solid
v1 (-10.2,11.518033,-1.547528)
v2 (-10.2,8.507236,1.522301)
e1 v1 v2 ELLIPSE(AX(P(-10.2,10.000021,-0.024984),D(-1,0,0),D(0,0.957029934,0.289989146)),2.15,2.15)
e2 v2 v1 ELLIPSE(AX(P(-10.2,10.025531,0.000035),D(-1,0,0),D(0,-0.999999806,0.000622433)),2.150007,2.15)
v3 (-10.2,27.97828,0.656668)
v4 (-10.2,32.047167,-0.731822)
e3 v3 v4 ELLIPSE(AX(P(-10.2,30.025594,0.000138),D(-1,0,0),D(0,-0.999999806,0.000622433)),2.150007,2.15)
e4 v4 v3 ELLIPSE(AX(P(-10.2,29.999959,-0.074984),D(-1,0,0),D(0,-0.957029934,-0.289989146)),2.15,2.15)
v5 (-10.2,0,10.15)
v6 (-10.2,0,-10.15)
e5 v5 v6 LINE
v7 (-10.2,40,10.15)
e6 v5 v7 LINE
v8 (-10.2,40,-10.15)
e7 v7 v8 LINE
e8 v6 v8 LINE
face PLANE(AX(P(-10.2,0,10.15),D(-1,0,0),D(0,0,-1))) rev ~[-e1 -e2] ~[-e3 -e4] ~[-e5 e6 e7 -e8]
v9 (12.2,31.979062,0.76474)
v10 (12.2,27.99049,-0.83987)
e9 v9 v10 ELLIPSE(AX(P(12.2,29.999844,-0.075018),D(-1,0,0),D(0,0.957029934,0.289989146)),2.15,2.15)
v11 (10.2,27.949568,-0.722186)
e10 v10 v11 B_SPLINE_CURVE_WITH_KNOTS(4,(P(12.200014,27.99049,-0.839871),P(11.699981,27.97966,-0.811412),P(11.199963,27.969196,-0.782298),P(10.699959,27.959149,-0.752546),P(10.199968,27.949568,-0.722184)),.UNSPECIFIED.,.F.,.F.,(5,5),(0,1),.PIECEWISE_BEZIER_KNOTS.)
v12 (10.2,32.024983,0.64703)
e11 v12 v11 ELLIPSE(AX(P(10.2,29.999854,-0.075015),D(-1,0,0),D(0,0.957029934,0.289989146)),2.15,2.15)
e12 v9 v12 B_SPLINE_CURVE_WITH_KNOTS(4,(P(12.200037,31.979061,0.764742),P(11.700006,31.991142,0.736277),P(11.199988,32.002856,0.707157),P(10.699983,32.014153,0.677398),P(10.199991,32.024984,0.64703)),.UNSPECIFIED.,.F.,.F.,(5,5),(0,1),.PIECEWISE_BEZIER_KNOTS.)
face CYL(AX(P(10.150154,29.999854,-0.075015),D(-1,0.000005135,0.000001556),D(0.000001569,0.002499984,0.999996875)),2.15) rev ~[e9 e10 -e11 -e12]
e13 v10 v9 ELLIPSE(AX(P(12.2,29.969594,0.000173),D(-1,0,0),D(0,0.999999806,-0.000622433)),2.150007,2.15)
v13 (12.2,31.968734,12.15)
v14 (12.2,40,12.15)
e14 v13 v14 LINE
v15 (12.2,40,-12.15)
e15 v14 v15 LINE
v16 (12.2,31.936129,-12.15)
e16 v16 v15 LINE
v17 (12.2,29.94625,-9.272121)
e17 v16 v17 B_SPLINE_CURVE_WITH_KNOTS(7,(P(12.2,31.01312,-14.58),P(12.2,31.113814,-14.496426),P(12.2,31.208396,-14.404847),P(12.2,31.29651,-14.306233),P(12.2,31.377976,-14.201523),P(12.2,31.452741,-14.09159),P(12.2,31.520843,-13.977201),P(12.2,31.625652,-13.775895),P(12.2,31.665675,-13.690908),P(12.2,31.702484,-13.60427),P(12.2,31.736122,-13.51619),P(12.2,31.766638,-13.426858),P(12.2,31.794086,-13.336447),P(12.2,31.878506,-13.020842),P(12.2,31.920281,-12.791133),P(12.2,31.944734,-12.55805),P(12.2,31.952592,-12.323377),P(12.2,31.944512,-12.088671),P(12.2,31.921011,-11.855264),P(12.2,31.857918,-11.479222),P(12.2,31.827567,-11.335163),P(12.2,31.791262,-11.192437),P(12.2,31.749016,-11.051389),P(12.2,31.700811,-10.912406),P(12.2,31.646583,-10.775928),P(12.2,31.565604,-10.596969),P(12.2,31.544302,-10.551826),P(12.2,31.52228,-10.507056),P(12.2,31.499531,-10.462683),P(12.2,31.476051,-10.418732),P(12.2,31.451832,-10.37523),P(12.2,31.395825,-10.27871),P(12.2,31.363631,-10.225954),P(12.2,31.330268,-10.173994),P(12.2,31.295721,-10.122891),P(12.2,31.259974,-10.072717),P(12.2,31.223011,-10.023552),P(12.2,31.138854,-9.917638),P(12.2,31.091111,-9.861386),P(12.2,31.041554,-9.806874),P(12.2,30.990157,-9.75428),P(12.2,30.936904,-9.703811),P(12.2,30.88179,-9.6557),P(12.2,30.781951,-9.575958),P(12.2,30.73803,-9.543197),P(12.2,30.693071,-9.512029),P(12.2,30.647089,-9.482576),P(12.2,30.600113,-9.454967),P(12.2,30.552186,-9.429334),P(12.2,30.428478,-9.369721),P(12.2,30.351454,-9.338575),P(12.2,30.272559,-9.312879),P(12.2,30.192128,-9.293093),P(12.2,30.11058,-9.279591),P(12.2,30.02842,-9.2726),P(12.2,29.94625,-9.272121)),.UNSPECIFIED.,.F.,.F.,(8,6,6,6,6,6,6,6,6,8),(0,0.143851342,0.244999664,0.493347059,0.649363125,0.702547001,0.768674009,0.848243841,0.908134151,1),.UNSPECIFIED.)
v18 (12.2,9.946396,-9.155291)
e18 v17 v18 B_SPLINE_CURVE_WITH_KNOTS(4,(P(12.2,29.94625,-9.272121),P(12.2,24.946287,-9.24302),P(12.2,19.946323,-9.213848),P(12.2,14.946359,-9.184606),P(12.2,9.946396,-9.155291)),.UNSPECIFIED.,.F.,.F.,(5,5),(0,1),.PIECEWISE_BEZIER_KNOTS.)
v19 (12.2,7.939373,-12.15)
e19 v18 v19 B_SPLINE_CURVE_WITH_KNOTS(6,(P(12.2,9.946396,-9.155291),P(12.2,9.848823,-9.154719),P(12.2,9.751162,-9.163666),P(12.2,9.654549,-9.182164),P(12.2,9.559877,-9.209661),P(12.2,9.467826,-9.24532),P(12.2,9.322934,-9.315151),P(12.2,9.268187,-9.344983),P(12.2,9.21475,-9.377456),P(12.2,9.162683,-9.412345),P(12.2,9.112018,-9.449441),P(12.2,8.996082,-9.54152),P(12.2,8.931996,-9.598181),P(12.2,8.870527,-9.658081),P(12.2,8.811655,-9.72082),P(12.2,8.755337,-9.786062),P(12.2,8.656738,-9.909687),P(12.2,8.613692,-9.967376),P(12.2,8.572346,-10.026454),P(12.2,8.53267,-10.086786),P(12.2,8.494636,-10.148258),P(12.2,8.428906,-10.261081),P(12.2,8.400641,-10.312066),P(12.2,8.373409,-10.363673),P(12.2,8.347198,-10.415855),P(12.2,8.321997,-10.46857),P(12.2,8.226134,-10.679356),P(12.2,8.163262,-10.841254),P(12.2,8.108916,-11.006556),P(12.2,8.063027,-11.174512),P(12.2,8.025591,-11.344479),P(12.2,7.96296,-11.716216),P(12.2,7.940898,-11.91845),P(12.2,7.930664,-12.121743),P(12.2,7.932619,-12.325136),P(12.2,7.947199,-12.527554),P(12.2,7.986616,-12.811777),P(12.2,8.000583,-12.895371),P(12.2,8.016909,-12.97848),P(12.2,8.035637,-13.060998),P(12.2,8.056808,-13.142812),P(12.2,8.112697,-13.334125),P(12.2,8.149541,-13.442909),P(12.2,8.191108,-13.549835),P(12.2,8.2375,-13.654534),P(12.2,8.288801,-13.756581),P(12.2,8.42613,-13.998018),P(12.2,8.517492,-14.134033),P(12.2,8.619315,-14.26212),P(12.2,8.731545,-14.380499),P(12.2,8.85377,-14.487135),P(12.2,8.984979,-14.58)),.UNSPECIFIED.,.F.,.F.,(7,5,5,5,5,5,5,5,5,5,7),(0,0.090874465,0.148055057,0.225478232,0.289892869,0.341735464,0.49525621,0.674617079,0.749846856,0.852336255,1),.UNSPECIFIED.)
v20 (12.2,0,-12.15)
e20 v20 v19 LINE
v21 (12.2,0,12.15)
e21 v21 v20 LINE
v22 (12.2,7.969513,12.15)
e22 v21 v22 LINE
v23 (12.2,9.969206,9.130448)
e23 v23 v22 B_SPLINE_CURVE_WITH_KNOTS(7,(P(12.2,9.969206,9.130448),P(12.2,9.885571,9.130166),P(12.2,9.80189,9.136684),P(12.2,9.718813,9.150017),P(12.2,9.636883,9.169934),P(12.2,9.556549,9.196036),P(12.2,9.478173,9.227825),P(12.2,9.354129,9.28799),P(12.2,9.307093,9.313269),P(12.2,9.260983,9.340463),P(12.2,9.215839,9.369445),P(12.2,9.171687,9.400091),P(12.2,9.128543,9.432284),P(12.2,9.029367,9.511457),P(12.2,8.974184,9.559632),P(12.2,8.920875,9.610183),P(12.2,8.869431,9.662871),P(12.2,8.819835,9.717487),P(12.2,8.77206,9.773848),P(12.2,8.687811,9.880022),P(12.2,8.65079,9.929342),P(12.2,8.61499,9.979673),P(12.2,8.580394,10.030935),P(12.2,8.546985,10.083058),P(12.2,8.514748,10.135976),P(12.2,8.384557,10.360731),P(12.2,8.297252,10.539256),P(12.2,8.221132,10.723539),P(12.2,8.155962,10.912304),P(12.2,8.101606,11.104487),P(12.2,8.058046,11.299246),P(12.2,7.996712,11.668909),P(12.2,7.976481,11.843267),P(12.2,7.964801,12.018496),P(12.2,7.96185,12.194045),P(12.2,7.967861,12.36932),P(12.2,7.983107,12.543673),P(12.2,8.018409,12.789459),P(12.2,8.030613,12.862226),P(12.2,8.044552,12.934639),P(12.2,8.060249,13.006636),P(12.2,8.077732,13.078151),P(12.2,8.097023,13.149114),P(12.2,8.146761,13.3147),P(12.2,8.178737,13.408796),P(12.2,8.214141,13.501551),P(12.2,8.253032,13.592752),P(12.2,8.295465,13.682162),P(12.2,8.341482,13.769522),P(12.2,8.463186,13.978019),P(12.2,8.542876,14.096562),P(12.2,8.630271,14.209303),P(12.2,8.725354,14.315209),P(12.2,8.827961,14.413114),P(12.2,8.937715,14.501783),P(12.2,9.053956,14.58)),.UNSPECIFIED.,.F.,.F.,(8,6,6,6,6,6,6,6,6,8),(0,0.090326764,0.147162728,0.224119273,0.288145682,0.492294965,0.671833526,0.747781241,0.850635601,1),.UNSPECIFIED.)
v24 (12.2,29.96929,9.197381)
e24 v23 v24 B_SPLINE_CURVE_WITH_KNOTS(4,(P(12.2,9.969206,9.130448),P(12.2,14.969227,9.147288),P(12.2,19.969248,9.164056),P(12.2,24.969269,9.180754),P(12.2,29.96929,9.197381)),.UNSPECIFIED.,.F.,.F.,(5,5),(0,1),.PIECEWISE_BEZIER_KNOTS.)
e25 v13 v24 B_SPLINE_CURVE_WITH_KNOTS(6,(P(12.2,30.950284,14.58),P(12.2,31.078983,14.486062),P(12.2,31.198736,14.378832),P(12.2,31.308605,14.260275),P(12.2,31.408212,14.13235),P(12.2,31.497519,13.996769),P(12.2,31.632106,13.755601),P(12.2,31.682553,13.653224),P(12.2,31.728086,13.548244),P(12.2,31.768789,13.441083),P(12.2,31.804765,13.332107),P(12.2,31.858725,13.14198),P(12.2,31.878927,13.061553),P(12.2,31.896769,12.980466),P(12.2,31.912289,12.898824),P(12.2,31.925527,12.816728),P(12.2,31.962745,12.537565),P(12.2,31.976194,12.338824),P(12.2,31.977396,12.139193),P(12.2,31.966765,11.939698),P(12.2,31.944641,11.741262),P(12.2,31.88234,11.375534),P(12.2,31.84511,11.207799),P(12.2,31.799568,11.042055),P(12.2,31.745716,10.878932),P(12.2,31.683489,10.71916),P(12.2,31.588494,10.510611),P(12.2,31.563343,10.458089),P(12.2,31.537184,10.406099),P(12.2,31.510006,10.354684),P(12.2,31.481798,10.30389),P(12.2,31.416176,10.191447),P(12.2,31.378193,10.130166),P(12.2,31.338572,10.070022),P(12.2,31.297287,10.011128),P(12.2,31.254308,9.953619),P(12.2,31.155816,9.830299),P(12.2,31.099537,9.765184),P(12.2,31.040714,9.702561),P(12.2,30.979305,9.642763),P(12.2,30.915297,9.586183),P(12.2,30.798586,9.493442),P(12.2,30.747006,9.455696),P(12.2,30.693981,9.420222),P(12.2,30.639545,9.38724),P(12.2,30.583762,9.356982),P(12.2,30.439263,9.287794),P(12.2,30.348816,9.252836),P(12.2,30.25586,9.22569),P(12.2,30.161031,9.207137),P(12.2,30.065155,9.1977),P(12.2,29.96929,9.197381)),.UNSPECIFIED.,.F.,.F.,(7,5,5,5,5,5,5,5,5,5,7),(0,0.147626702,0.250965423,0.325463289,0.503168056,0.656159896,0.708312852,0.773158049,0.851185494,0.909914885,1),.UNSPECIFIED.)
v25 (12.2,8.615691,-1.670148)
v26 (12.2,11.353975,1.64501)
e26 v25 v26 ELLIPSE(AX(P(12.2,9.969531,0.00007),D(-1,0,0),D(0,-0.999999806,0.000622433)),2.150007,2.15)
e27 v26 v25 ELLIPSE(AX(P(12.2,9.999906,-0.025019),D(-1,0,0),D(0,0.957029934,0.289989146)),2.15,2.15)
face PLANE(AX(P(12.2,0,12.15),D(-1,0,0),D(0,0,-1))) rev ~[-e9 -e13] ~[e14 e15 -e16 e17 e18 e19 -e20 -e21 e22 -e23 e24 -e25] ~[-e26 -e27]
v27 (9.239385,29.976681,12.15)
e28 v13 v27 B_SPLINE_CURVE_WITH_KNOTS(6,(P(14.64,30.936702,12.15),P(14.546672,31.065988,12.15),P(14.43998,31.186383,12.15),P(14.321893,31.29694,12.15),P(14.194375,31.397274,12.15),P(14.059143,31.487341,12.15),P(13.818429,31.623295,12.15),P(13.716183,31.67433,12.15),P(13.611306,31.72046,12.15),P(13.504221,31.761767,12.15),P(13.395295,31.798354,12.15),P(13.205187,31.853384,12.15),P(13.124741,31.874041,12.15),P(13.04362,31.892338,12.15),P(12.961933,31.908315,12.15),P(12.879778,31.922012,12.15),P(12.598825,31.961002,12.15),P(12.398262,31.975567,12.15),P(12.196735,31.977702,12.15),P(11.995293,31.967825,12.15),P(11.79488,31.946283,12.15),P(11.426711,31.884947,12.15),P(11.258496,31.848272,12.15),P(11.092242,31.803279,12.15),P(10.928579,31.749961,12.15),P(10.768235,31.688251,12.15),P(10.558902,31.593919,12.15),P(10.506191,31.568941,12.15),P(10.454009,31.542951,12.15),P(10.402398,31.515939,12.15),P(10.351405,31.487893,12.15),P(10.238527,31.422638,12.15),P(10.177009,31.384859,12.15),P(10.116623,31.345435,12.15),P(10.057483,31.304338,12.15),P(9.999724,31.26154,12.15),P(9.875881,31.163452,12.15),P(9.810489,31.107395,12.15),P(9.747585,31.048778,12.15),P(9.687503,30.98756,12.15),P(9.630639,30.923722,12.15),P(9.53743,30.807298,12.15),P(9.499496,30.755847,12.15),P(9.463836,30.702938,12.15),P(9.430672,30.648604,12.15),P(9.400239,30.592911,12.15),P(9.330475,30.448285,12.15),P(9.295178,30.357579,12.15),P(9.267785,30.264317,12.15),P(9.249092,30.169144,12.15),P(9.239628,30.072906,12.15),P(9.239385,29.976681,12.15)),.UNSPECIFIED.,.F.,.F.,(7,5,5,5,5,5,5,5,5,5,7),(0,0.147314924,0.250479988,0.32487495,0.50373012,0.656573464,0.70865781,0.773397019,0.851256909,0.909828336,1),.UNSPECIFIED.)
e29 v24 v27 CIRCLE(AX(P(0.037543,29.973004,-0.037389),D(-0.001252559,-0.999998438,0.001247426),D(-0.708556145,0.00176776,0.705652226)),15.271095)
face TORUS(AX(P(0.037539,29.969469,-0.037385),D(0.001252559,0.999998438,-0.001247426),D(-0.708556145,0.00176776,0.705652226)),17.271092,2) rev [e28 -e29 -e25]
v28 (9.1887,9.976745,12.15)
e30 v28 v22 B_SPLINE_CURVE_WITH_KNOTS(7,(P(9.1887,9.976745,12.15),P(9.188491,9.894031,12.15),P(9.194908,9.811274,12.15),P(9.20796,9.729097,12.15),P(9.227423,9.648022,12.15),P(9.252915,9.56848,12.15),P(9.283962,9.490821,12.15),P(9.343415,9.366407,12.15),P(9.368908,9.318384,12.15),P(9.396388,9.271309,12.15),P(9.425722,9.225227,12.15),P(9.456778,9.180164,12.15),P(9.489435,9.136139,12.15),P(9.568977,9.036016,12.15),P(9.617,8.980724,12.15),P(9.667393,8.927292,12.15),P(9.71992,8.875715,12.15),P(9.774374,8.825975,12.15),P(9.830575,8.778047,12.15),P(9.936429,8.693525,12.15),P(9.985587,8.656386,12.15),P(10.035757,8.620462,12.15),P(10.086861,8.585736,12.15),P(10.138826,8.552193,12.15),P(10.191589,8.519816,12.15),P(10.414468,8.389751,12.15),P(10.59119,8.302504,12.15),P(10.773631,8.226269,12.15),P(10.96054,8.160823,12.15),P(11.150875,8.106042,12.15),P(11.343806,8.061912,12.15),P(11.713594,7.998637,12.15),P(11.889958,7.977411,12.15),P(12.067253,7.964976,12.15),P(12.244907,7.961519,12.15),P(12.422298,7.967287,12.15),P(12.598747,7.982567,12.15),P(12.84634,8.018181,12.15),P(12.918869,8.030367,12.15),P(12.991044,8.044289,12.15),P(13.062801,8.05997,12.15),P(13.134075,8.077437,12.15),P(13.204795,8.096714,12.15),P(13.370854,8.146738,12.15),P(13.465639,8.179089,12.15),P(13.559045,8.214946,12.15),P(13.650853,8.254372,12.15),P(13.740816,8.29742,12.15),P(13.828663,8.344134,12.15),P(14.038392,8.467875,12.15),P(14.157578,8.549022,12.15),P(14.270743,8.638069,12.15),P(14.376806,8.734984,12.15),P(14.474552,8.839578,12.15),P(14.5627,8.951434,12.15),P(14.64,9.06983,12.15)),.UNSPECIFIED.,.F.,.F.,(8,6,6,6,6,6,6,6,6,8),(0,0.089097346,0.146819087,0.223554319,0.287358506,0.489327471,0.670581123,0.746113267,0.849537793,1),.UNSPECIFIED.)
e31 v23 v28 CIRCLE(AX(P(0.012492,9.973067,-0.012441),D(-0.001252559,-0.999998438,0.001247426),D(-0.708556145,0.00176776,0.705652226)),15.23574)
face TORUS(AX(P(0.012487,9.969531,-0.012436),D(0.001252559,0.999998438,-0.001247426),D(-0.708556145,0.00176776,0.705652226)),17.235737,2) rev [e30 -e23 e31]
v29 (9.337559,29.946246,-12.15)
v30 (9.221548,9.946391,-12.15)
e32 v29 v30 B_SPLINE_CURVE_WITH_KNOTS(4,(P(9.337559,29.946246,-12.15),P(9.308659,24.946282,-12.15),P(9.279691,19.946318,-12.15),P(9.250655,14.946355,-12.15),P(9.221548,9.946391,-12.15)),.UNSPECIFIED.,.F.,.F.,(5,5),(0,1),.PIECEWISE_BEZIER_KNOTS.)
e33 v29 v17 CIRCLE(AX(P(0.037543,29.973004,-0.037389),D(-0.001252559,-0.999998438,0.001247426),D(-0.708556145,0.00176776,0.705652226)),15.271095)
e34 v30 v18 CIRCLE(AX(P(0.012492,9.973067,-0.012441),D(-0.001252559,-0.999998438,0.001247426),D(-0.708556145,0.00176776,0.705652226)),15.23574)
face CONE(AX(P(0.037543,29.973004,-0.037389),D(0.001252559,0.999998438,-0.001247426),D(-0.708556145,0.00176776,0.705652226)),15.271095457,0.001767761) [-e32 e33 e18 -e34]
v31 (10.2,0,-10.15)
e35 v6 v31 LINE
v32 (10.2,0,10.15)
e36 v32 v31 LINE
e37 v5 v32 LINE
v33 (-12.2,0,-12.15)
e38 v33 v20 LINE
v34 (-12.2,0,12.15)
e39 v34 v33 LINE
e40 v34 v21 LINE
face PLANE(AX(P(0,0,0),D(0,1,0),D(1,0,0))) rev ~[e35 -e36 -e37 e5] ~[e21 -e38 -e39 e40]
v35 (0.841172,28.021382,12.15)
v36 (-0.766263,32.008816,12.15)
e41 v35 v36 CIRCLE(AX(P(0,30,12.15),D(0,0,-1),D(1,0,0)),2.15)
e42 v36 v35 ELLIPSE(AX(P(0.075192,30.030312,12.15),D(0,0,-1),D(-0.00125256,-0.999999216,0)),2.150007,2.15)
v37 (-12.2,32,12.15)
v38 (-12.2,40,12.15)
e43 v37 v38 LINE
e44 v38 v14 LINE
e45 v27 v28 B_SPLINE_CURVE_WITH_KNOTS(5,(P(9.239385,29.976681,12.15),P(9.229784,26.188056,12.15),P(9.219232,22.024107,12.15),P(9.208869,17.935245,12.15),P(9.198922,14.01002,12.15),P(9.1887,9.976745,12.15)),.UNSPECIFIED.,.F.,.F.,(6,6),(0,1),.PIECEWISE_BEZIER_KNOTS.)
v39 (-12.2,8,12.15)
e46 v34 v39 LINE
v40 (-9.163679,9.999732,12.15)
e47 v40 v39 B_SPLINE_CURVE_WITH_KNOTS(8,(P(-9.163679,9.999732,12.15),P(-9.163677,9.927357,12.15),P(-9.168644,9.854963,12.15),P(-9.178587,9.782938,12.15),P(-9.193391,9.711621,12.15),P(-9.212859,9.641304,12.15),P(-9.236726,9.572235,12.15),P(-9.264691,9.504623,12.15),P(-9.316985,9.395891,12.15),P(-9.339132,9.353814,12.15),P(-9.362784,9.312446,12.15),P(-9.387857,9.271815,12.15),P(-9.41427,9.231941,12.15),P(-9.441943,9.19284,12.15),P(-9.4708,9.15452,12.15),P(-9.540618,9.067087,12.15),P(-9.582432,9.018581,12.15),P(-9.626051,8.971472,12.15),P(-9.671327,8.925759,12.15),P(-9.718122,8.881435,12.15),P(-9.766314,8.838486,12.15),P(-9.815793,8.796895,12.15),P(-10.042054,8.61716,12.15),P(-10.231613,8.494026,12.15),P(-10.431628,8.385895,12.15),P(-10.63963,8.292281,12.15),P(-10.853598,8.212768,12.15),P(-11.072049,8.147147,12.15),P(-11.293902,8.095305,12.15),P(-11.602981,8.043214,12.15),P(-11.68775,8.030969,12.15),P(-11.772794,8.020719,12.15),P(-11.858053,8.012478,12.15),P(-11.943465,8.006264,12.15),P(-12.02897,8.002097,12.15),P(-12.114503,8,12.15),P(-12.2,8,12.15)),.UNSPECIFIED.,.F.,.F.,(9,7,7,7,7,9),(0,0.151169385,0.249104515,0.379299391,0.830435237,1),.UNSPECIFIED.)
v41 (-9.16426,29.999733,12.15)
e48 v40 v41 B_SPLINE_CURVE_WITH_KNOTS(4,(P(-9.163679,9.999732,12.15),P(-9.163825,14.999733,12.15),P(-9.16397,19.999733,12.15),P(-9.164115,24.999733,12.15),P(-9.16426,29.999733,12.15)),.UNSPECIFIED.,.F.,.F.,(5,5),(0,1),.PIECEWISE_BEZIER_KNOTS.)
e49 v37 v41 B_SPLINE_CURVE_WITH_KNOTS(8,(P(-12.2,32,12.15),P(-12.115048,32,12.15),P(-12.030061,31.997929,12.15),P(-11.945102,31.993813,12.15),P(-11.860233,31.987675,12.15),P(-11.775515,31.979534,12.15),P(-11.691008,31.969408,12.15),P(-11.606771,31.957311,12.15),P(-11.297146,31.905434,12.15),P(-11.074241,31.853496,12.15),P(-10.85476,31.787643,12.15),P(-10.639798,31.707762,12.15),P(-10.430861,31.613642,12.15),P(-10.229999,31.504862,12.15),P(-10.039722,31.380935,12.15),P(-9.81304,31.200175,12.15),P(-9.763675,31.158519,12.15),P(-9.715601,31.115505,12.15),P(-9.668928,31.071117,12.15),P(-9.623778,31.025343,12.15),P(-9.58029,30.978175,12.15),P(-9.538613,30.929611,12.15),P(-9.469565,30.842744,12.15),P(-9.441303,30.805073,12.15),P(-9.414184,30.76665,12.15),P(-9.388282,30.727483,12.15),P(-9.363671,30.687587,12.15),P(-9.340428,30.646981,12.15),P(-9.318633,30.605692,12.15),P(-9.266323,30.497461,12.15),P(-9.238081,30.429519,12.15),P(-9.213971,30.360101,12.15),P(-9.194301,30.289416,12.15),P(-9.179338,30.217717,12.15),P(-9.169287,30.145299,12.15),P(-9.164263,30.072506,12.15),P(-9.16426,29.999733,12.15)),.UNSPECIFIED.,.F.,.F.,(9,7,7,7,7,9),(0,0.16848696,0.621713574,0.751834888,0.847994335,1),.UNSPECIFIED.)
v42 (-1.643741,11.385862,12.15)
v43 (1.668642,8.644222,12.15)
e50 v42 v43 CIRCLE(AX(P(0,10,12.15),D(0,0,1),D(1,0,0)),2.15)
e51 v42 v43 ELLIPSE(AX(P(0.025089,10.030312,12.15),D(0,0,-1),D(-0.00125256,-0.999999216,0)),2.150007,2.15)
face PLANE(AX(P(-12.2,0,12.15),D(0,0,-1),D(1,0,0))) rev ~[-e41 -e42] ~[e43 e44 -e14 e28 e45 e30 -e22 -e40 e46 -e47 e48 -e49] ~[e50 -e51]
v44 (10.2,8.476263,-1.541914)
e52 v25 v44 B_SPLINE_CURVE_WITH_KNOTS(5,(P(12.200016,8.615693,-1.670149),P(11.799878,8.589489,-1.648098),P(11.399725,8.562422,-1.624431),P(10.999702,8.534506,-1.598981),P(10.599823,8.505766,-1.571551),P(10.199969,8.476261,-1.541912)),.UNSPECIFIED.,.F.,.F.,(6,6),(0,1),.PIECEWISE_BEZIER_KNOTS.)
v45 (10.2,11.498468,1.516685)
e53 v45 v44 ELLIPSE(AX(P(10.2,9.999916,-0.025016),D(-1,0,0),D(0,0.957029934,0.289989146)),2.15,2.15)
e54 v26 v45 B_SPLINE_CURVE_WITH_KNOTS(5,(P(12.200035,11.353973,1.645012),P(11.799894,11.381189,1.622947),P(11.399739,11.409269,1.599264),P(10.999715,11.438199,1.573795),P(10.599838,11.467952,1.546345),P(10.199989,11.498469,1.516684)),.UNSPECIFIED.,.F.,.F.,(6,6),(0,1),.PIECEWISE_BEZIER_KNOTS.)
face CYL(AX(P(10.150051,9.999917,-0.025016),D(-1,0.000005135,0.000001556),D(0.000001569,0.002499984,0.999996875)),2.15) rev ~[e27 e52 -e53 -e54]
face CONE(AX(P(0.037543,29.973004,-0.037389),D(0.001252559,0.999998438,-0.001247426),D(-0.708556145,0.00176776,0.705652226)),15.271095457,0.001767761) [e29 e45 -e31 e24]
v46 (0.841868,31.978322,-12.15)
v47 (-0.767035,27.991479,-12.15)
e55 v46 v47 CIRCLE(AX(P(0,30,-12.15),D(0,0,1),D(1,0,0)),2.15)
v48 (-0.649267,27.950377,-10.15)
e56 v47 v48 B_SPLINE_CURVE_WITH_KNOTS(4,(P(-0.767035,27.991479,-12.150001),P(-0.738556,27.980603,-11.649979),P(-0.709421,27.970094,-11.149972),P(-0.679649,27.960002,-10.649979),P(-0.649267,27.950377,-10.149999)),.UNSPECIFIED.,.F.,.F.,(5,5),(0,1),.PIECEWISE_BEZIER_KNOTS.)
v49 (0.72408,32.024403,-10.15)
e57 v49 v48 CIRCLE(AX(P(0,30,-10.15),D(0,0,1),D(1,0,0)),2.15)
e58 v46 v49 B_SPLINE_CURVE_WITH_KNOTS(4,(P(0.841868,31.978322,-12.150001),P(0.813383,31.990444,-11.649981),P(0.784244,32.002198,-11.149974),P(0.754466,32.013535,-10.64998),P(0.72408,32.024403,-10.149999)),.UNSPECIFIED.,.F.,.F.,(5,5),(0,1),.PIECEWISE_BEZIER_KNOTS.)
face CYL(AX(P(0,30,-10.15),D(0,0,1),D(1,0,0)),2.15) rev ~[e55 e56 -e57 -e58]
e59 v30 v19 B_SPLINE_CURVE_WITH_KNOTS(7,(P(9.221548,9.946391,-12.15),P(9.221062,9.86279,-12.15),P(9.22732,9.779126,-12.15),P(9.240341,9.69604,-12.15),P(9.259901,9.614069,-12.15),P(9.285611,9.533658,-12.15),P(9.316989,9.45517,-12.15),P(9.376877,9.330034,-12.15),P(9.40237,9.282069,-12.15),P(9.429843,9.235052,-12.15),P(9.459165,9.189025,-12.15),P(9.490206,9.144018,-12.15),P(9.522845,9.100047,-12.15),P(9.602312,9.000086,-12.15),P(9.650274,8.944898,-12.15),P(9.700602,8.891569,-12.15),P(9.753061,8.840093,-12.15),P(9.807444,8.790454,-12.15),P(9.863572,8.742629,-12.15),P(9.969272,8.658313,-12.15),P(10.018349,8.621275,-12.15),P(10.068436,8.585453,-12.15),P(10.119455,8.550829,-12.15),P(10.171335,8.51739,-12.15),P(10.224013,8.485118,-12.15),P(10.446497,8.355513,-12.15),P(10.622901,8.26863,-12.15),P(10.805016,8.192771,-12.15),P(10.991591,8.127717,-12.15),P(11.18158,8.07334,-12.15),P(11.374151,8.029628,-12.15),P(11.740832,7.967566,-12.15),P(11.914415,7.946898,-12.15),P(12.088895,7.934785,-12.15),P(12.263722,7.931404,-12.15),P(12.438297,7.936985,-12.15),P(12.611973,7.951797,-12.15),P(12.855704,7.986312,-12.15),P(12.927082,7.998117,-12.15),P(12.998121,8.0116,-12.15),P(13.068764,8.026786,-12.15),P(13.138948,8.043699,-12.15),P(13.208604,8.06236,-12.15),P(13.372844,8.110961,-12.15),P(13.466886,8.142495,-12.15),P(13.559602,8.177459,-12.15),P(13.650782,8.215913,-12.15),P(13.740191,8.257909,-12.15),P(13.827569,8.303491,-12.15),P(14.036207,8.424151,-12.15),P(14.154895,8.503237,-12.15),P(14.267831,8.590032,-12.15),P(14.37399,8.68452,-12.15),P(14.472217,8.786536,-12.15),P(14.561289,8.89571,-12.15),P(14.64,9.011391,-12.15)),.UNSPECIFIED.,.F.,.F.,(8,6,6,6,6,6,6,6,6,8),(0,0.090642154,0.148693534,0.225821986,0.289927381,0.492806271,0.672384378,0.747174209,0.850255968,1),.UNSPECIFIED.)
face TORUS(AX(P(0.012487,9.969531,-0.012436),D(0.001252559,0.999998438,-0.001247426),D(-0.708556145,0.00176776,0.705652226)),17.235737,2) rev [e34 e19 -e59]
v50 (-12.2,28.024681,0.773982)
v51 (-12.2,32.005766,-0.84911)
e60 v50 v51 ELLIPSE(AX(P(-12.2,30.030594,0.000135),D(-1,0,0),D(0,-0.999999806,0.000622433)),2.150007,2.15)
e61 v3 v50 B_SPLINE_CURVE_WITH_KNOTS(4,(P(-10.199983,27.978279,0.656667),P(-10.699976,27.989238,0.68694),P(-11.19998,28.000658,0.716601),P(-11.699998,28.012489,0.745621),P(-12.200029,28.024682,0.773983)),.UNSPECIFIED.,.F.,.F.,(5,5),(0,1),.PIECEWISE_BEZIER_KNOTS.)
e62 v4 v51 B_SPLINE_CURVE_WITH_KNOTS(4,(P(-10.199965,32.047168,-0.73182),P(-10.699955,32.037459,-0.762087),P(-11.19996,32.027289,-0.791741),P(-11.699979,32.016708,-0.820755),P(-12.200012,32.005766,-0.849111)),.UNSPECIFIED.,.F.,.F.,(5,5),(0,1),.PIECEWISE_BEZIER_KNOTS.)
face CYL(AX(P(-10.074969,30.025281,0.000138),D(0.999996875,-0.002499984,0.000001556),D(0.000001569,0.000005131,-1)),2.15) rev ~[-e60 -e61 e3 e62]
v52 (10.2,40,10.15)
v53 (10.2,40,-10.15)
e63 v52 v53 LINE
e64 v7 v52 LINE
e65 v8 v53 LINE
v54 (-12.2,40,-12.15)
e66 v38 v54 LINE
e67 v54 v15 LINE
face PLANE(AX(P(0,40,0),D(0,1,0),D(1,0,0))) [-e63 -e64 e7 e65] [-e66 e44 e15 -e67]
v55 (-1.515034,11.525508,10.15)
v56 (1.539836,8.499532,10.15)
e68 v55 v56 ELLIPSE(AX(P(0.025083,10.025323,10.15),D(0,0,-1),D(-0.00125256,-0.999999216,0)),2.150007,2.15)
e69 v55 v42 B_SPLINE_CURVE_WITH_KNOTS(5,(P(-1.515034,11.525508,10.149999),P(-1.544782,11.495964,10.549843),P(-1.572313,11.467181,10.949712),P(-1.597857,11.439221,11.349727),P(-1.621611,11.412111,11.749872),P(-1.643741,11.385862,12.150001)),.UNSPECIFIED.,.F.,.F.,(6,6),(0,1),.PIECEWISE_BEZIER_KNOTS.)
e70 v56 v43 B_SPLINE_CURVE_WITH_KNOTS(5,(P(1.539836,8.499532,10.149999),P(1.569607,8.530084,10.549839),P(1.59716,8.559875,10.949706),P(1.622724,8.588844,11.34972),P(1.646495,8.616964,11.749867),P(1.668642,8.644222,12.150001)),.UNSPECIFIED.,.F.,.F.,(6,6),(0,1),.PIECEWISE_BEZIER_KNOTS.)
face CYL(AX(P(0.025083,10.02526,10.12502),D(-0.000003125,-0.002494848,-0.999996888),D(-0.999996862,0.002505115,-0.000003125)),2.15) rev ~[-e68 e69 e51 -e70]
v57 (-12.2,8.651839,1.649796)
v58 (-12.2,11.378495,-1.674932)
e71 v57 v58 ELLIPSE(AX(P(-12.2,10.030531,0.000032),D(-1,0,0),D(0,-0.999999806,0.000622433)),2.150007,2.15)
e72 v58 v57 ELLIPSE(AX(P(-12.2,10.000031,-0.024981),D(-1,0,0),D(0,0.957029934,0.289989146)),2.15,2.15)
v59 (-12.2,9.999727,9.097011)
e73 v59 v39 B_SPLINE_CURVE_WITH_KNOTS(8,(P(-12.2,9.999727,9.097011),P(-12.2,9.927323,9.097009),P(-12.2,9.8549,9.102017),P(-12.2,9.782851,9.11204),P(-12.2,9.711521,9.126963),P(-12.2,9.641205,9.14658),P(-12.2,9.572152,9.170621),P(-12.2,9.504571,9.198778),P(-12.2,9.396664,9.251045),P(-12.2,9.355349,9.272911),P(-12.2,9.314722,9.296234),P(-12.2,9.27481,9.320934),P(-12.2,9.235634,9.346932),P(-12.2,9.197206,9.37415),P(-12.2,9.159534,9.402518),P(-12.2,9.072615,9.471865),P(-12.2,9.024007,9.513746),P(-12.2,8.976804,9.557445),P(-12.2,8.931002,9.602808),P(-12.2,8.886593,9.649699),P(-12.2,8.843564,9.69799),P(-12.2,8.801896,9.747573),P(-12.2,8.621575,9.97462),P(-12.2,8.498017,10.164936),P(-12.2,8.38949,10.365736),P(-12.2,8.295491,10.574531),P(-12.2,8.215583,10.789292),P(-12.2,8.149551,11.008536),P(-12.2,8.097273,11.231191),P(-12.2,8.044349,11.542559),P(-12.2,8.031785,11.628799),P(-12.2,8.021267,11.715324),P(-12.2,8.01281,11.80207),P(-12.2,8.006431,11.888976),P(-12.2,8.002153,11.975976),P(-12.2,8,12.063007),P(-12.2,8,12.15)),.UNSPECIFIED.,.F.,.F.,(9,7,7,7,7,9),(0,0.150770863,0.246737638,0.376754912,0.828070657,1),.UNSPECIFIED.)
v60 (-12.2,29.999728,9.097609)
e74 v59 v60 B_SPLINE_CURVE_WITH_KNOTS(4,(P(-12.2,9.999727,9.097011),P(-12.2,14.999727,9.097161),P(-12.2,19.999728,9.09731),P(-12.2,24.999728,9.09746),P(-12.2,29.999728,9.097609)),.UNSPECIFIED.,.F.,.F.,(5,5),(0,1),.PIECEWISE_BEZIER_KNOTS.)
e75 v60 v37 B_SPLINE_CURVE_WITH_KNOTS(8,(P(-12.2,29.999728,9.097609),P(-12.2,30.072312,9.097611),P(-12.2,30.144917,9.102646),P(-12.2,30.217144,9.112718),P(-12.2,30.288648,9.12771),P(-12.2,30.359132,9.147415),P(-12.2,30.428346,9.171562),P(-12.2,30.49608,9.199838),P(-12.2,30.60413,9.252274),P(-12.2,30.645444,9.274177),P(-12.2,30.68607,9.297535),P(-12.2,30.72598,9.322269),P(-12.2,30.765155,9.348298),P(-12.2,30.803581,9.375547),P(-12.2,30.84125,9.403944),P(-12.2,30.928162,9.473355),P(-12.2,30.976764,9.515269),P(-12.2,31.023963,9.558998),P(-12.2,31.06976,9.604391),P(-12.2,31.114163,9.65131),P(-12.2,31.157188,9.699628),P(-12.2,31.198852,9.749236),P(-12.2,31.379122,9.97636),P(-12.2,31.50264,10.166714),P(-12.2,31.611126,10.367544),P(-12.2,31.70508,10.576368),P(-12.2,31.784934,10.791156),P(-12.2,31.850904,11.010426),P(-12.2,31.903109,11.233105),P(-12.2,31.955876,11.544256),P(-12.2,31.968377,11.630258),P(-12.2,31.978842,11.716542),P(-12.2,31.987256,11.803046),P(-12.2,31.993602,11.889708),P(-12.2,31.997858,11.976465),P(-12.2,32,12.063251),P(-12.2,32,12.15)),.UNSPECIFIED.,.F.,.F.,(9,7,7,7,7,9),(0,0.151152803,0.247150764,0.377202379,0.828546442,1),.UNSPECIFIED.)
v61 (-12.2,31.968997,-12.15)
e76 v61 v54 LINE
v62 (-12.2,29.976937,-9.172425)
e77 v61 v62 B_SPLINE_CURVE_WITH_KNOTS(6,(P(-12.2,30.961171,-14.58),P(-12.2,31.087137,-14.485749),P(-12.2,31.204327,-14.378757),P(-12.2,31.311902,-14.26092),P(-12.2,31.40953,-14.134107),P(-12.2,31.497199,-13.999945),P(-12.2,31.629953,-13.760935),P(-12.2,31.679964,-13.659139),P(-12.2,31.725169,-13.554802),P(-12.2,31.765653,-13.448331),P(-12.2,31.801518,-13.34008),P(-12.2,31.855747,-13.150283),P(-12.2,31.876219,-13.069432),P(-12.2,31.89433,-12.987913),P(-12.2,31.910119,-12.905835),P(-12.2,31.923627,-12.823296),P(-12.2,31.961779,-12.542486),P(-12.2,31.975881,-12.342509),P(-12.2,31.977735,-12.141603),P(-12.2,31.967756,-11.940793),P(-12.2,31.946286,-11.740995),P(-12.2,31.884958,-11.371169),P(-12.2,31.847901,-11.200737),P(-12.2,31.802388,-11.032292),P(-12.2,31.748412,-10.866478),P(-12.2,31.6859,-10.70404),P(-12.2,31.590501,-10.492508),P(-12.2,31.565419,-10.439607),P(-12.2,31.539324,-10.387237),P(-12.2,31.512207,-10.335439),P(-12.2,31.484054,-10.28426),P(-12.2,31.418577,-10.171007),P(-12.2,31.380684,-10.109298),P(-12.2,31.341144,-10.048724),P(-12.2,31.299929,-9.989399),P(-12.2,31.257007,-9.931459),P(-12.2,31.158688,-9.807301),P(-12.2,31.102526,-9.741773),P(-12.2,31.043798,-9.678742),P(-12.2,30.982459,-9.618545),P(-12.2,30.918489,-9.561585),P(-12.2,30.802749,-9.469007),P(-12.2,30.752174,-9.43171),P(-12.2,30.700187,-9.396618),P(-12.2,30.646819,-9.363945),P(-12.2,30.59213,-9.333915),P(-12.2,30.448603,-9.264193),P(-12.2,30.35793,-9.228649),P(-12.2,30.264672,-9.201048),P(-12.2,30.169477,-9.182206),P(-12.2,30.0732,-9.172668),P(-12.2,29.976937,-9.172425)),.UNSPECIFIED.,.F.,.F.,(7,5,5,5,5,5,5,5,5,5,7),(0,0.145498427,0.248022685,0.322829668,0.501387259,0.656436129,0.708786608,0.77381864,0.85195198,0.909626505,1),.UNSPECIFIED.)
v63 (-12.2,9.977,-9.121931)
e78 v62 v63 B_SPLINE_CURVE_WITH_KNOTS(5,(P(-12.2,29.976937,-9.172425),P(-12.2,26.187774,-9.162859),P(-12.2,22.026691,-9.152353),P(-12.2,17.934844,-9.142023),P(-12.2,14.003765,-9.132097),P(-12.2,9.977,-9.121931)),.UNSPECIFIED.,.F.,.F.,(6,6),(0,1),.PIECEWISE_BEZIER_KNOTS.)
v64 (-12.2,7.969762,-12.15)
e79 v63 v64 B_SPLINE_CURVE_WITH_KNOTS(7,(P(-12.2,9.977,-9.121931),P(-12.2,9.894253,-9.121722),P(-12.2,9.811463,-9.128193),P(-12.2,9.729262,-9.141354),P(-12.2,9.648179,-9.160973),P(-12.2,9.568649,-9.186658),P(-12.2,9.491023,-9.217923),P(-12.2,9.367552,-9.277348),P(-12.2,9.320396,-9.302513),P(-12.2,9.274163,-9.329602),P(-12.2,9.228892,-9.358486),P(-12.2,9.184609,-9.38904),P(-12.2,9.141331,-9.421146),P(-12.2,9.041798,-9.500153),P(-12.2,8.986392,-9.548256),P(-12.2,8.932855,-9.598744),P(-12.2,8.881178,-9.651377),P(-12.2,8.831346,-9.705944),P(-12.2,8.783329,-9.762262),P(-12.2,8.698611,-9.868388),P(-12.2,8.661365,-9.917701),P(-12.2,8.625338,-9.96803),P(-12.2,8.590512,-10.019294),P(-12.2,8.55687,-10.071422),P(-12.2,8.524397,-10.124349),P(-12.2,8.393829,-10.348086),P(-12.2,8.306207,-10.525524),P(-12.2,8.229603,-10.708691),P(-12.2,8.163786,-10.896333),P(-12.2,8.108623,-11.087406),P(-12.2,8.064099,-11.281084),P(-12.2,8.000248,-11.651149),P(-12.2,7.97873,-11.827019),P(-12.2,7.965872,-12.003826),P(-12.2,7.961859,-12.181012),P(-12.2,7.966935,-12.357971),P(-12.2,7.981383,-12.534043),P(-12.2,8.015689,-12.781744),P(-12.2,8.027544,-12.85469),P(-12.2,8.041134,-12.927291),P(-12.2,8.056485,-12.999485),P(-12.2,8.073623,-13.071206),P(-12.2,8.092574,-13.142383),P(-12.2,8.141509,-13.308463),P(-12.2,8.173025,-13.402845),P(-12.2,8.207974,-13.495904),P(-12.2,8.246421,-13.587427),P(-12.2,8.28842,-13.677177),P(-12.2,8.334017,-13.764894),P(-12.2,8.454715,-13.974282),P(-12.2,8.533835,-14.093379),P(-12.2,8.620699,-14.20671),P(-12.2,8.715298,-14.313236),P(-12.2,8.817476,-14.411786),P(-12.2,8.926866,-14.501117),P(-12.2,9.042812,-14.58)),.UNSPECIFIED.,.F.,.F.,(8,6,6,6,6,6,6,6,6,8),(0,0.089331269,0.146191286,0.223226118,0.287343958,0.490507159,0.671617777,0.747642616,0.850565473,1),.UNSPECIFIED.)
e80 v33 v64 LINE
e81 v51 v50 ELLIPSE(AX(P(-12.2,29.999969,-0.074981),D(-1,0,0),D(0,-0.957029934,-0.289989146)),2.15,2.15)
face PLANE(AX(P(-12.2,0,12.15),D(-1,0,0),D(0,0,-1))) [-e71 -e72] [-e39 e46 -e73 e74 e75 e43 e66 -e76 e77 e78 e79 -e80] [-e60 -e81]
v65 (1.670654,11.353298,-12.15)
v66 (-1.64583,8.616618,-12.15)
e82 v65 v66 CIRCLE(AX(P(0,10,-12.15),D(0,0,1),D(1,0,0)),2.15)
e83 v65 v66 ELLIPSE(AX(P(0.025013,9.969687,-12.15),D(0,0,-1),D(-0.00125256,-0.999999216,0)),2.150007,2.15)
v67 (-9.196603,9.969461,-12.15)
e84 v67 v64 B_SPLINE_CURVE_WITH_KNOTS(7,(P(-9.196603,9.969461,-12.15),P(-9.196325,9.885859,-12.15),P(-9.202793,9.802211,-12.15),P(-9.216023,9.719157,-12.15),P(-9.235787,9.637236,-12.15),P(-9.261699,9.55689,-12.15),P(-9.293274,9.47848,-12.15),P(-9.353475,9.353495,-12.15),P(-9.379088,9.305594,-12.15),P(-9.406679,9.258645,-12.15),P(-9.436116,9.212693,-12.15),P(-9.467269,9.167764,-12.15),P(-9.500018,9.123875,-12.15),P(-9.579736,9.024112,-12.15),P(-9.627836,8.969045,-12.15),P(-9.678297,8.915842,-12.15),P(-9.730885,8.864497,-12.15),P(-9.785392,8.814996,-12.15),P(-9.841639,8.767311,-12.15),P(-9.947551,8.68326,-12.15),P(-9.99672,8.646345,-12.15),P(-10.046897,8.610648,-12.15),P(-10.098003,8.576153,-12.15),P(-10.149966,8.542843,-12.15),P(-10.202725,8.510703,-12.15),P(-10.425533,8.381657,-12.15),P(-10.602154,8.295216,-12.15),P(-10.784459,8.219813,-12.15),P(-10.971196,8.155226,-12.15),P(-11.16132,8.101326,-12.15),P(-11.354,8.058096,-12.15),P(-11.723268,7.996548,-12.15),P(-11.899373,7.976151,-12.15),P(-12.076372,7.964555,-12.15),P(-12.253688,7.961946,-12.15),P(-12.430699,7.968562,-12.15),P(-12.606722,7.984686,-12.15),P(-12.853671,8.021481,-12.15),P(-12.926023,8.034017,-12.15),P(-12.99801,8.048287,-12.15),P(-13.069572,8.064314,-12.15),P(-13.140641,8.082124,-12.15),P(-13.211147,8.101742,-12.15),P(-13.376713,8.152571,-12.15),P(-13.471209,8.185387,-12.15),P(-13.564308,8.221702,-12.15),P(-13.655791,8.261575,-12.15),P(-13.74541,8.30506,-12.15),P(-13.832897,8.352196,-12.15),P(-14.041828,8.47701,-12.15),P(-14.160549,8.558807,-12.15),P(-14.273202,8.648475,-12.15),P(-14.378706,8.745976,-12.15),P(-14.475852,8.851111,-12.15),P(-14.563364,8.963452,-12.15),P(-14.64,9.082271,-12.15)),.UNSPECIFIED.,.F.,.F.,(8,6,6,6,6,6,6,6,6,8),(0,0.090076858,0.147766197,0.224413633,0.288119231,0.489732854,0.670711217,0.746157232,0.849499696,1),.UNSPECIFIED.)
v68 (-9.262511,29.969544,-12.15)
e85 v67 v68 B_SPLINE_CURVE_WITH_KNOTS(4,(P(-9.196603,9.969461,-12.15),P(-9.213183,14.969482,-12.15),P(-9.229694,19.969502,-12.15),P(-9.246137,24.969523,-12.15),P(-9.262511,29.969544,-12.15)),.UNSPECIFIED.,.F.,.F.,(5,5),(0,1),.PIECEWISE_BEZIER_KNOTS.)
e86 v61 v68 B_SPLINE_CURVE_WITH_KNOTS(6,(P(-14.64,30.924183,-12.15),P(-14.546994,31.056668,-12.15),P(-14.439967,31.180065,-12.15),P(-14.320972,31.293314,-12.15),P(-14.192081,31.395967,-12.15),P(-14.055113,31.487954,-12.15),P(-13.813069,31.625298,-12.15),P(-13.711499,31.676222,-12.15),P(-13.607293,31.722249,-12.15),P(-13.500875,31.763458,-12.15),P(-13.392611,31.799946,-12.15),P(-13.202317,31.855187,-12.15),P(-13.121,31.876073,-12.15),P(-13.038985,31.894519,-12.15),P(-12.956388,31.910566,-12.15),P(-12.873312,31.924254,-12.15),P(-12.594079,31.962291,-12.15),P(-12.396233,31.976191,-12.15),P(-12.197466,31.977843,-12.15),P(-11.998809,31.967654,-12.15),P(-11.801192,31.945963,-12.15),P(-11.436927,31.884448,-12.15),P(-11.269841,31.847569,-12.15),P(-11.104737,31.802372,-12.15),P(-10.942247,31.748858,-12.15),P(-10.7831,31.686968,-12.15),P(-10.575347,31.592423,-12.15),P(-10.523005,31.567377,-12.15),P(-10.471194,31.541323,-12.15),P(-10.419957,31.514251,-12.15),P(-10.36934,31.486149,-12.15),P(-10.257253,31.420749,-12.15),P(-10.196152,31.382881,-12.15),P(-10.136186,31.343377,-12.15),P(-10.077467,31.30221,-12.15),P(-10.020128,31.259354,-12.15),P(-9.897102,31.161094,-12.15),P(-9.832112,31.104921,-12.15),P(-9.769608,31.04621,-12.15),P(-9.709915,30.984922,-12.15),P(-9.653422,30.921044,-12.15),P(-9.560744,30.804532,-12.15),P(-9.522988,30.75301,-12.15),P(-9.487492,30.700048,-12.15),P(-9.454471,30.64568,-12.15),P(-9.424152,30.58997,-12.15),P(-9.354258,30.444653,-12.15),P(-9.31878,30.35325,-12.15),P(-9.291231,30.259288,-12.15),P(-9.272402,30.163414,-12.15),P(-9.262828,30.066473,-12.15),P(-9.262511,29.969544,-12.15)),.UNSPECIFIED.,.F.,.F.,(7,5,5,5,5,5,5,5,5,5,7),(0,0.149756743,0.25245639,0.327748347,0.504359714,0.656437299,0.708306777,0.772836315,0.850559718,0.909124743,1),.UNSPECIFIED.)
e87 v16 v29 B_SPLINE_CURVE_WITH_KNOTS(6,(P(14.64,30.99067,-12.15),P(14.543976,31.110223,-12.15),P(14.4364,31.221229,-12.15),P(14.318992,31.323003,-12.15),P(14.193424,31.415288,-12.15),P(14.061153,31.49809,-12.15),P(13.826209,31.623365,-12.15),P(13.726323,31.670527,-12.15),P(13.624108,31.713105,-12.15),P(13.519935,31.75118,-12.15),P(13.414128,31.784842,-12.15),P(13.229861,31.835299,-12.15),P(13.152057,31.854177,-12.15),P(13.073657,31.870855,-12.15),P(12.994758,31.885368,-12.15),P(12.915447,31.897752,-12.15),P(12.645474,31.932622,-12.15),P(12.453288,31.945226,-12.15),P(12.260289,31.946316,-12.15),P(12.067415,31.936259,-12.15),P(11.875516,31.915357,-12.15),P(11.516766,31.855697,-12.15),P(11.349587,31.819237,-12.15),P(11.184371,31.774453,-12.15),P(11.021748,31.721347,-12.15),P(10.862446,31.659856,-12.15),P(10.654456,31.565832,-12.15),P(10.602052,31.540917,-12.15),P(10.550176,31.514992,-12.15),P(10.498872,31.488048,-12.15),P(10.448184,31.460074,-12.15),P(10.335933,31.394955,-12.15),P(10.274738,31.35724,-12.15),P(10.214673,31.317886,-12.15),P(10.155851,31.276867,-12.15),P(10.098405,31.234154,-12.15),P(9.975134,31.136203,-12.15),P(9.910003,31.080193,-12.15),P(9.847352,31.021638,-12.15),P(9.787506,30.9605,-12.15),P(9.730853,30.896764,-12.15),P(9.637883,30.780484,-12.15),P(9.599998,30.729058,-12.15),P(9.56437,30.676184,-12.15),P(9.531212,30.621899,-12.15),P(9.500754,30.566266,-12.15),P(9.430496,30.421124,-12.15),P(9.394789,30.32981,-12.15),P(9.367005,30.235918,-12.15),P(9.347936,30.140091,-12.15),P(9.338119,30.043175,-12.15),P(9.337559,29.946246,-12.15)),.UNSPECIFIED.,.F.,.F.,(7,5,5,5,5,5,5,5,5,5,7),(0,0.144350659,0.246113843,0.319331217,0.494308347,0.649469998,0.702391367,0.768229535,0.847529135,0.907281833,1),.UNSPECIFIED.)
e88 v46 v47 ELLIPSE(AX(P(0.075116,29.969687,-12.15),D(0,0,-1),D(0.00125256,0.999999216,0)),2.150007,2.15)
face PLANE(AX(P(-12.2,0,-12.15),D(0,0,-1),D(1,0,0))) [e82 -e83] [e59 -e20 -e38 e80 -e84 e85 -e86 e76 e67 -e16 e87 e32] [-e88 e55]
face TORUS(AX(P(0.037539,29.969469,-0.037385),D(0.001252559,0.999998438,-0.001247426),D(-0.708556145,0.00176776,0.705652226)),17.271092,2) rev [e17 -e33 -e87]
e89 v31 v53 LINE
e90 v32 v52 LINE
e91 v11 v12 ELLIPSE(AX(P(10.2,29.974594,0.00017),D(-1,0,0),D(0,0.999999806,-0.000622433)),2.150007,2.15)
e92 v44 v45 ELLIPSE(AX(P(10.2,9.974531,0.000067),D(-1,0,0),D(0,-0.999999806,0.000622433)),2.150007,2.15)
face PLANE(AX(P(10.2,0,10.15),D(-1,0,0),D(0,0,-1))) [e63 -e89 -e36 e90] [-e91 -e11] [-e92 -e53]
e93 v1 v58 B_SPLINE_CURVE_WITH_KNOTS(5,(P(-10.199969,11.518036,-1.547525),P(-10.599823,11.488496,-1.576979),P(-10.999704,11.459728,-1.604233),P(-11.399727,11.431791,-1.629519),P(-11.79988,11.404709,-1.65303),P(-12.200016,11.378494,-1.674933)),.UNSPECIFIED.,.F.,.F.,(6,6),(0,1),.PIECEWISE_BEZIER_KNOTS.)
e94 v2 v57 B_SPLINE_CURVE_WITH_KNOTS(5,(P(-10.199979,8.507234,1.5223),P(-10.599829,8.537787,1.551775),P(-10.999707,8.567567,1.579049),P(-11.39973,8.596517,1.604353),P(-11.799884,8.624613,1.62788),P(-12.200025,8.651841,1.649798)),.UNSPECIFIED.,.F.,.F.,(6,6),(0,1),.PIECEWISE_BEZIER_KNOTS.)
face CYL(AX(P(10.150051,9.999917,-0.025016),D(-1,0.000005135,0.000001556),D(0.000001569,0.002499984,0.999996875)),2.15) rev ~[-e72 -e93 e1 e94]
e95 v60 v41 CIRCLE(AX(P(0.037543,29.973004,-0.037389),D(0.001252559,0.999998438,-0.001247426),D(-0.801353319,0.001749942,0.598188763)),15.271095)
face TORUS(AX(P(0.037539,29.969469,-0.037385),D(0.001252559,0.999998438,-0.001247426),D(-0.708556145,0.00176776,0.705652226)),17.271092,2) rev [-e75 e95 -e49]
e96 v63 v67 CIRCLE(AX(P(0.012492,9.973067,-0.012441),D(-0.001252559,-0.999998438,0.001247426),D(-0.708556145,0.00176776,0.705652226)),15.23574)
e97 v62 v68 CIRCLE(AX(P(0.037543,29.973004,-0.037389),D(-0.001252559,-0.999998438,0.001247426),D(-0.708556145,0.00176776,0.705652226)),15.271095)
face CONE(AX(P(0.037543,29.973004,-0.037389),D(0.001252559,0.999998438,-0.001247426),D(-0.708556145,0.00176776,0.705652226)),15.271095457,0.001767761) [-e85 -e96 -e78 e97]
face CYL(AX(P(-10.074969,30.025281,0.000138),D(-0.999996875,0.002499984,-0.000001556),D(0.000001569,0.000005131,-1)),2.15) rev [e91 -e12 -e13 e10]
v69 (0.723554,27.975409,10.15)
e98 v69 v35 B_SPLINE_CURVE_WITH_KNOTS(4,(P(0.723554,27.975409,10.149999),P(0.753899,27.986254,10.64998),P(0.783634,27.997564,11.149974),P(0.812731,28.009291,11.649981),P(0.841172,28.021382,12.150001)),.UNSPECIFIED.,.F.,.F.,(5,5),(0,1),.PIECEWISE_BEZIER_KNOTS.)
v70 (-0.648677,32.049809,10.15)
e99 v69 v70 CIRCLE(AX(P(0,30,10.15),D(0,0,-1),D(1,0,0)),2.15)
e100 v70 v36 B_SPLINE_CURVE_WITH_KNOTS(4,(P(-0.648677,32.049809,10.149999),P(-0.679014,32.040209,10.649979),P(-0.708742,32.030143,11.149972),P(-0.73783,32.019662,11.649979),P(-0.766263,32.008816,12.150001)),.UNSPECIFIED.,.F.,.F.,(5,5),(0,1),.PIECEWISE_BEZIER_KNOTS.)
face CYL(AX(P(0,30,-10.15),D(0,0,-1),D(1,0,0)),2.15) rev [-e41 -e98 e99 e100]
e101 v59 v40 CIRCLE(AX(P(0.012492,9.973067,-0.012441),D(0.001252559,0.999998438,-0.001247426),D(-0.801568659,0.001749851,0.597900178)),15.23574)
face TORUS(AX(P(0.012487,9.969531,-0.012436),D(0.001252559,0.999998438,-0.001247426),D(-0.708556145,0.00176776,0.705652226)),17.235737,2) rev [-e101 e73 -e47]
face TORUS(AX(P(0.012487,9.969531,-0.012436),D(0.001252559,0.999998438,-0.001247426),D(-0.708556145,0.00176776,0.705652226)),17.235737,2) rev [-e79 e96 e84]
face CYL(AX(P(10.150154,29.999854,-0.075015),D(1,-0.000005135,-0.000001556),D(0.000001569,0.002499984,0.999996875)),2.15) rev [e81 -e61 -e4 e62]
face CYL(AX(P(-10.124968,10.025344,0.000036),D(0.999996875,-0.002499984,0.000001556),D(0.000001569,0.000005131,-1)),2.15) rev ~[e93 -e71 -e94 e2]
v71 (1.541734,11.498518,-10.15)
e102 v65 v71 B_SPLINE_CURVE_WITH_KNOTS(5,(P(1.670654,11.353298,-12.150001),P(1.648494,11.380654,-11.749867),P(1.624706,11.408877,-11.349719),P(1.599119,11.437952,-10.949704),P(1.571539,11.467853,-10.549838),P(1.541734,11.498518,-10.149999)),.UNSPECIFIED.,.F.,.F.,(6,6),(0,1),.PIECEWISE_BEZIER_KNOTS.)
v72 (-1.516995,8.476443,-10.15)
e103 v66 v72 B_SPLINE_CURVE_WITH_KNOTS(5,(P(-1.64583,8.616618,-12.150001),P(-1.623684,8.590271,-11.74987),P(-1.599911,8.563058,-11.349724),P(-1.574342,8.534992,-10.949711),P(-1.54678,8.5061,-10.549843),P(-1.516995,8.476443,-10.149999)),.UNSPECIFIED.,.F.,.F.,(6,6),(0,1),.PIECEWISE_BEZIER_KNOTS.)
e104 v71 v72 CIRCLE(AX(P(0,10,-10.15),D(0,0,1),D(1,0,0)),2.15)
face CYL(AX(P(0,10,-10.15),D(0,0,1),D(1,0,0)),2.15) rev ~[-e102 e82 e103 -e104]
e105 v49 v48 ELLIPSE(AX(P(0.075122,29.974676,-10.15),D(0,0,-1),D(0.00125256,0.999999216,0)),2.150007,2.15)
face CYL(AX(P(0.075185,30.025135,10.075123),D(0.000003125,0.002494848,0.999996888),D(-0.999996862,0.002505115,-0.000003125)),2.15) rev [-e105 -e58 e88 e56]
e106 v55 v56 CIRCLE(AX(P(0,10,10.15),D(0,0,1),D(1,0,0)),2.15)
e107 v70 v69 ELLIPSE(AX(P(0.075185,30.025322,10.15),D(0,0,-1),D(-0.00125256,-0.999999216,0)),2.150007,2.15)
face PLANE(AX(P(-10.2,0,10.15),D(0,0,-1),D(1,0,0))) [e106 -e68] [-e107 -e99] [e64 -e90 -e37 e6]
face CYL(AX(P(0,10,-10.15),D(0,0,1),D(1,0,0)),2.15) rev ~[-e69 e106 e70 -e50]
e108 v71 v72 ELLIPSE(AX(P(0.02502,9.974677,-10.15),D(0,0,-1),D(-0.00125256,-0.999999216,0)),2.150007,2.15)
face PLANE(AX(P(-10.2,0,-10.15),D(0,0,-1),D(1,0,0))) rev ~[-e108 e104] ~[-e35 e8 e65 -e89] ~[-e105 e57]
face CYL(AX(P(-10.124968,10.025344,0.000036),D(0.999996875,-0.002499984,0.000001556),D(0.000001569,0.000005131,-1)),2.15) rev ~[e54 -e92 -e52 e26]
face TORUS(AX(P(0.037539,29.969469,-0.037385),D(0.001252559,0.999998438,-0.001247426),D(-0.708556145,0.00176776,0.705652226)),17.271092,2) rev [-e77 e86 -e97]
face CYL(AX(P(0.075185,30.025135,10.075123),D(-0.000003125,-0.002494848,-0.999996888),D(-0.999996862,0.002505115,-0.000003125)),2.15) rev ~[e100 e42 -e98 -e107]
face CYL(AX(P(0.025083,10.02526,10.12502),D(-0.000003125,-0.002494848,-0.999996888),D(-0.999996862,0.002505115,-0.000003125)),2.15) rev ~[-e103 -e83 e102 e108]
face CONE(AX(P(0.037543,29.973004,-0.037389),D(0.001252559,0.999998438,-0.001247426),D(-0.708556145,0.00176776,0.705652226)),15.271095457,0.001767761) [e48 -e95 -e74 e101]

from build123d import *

# Parameters (mm, degrees)
SKETCH1_W           = 24.4
SKETCH1_H           = 24.3
SKETCH1_W_2         = 20.4
SKETCH1_H_2         = 20.3
BOSS_EXTRUDE1_DEPTH = 40
SKETCH3_R           = 2.15
CUT_EXTRUDE1_DEPTH  = 40
CIRPATTERN1_COUNT   = 4


with BuildPart() as part:
    # Sketch1 → Boss-Extrude1 (new body)
    with BuildSketch(Plane(origin=(0, 0, 0), x_dir=(1, 0, 0), z_dir=(0, 1, 0))):
        Rectangle(SKETCH1_W, SKETCH1_H)
        Rectangle(SKETCH1_W_2, SKETCH1_H_2, mode=Mode.SUBTRACT)
    extrude(amount=BOSS_EXTRUDE1_DEPTH)

    # Sketch2 → Cut-Revolve1 (revolve, cut)
    with BuildSketch(Plane(origin=(0, 0, 0), x_dir=(0.7085572520498782, 0, -0.7056533288857395), z_dir=(0.7056533288857395, 0, 0.7085572520498782))):
        with BuildLine():
            Line((-19.218086421, 10), (-19.218086421, 30))
            ThreePointArc((-19.218086421, 30), (-17.218086421, 32), (-15.218086421, 30))
            Line((-15.218086421, 30), (-15.218086421, 10))
            ThreePointArc((-15.218086421, 10), (-17.218086421, 8), (-19.218086421, 10))
        make_face()
    revolve(axis=Axis((0.050102458, 40, -0.04989712), (-0.0012525594966950285, -0.9999984375102502, 0.0012474260561348032)), mode=Mode.SUBTRACT)

    # Sketch3 → Cut-Extrude1 (cut, symmetric)
    with BuildSketch(Plane.XY.offset(-10.15)):
        with Locations((0, 30)):
            Circle(SKETCH3_R)
        with Locations((0, 10)):
            Circle(SKETCH3_R)
    cut_extrude1 = extrude(amount=CUT_EXTRUDE1_DEPTH, both=True, mode=Mode.SUBTRACT)

    # CirPattern1: Cut-Extrude1 ×4 about axis
    cirpattern1_axis = Axis((0.050102458, 40, -0.04989712), (-0.0012525594966950285, -0.9999984375102502, 0.0012474260561348032))
    for i in range(1, CIRPATTERN1_COUNT):
        add(cut_extrude1.rotate(cirpattern1_axis, i * 360 / CIRPATTERN1_COUNT), mode=Mode.SUBTRACT)


solid = part.part
